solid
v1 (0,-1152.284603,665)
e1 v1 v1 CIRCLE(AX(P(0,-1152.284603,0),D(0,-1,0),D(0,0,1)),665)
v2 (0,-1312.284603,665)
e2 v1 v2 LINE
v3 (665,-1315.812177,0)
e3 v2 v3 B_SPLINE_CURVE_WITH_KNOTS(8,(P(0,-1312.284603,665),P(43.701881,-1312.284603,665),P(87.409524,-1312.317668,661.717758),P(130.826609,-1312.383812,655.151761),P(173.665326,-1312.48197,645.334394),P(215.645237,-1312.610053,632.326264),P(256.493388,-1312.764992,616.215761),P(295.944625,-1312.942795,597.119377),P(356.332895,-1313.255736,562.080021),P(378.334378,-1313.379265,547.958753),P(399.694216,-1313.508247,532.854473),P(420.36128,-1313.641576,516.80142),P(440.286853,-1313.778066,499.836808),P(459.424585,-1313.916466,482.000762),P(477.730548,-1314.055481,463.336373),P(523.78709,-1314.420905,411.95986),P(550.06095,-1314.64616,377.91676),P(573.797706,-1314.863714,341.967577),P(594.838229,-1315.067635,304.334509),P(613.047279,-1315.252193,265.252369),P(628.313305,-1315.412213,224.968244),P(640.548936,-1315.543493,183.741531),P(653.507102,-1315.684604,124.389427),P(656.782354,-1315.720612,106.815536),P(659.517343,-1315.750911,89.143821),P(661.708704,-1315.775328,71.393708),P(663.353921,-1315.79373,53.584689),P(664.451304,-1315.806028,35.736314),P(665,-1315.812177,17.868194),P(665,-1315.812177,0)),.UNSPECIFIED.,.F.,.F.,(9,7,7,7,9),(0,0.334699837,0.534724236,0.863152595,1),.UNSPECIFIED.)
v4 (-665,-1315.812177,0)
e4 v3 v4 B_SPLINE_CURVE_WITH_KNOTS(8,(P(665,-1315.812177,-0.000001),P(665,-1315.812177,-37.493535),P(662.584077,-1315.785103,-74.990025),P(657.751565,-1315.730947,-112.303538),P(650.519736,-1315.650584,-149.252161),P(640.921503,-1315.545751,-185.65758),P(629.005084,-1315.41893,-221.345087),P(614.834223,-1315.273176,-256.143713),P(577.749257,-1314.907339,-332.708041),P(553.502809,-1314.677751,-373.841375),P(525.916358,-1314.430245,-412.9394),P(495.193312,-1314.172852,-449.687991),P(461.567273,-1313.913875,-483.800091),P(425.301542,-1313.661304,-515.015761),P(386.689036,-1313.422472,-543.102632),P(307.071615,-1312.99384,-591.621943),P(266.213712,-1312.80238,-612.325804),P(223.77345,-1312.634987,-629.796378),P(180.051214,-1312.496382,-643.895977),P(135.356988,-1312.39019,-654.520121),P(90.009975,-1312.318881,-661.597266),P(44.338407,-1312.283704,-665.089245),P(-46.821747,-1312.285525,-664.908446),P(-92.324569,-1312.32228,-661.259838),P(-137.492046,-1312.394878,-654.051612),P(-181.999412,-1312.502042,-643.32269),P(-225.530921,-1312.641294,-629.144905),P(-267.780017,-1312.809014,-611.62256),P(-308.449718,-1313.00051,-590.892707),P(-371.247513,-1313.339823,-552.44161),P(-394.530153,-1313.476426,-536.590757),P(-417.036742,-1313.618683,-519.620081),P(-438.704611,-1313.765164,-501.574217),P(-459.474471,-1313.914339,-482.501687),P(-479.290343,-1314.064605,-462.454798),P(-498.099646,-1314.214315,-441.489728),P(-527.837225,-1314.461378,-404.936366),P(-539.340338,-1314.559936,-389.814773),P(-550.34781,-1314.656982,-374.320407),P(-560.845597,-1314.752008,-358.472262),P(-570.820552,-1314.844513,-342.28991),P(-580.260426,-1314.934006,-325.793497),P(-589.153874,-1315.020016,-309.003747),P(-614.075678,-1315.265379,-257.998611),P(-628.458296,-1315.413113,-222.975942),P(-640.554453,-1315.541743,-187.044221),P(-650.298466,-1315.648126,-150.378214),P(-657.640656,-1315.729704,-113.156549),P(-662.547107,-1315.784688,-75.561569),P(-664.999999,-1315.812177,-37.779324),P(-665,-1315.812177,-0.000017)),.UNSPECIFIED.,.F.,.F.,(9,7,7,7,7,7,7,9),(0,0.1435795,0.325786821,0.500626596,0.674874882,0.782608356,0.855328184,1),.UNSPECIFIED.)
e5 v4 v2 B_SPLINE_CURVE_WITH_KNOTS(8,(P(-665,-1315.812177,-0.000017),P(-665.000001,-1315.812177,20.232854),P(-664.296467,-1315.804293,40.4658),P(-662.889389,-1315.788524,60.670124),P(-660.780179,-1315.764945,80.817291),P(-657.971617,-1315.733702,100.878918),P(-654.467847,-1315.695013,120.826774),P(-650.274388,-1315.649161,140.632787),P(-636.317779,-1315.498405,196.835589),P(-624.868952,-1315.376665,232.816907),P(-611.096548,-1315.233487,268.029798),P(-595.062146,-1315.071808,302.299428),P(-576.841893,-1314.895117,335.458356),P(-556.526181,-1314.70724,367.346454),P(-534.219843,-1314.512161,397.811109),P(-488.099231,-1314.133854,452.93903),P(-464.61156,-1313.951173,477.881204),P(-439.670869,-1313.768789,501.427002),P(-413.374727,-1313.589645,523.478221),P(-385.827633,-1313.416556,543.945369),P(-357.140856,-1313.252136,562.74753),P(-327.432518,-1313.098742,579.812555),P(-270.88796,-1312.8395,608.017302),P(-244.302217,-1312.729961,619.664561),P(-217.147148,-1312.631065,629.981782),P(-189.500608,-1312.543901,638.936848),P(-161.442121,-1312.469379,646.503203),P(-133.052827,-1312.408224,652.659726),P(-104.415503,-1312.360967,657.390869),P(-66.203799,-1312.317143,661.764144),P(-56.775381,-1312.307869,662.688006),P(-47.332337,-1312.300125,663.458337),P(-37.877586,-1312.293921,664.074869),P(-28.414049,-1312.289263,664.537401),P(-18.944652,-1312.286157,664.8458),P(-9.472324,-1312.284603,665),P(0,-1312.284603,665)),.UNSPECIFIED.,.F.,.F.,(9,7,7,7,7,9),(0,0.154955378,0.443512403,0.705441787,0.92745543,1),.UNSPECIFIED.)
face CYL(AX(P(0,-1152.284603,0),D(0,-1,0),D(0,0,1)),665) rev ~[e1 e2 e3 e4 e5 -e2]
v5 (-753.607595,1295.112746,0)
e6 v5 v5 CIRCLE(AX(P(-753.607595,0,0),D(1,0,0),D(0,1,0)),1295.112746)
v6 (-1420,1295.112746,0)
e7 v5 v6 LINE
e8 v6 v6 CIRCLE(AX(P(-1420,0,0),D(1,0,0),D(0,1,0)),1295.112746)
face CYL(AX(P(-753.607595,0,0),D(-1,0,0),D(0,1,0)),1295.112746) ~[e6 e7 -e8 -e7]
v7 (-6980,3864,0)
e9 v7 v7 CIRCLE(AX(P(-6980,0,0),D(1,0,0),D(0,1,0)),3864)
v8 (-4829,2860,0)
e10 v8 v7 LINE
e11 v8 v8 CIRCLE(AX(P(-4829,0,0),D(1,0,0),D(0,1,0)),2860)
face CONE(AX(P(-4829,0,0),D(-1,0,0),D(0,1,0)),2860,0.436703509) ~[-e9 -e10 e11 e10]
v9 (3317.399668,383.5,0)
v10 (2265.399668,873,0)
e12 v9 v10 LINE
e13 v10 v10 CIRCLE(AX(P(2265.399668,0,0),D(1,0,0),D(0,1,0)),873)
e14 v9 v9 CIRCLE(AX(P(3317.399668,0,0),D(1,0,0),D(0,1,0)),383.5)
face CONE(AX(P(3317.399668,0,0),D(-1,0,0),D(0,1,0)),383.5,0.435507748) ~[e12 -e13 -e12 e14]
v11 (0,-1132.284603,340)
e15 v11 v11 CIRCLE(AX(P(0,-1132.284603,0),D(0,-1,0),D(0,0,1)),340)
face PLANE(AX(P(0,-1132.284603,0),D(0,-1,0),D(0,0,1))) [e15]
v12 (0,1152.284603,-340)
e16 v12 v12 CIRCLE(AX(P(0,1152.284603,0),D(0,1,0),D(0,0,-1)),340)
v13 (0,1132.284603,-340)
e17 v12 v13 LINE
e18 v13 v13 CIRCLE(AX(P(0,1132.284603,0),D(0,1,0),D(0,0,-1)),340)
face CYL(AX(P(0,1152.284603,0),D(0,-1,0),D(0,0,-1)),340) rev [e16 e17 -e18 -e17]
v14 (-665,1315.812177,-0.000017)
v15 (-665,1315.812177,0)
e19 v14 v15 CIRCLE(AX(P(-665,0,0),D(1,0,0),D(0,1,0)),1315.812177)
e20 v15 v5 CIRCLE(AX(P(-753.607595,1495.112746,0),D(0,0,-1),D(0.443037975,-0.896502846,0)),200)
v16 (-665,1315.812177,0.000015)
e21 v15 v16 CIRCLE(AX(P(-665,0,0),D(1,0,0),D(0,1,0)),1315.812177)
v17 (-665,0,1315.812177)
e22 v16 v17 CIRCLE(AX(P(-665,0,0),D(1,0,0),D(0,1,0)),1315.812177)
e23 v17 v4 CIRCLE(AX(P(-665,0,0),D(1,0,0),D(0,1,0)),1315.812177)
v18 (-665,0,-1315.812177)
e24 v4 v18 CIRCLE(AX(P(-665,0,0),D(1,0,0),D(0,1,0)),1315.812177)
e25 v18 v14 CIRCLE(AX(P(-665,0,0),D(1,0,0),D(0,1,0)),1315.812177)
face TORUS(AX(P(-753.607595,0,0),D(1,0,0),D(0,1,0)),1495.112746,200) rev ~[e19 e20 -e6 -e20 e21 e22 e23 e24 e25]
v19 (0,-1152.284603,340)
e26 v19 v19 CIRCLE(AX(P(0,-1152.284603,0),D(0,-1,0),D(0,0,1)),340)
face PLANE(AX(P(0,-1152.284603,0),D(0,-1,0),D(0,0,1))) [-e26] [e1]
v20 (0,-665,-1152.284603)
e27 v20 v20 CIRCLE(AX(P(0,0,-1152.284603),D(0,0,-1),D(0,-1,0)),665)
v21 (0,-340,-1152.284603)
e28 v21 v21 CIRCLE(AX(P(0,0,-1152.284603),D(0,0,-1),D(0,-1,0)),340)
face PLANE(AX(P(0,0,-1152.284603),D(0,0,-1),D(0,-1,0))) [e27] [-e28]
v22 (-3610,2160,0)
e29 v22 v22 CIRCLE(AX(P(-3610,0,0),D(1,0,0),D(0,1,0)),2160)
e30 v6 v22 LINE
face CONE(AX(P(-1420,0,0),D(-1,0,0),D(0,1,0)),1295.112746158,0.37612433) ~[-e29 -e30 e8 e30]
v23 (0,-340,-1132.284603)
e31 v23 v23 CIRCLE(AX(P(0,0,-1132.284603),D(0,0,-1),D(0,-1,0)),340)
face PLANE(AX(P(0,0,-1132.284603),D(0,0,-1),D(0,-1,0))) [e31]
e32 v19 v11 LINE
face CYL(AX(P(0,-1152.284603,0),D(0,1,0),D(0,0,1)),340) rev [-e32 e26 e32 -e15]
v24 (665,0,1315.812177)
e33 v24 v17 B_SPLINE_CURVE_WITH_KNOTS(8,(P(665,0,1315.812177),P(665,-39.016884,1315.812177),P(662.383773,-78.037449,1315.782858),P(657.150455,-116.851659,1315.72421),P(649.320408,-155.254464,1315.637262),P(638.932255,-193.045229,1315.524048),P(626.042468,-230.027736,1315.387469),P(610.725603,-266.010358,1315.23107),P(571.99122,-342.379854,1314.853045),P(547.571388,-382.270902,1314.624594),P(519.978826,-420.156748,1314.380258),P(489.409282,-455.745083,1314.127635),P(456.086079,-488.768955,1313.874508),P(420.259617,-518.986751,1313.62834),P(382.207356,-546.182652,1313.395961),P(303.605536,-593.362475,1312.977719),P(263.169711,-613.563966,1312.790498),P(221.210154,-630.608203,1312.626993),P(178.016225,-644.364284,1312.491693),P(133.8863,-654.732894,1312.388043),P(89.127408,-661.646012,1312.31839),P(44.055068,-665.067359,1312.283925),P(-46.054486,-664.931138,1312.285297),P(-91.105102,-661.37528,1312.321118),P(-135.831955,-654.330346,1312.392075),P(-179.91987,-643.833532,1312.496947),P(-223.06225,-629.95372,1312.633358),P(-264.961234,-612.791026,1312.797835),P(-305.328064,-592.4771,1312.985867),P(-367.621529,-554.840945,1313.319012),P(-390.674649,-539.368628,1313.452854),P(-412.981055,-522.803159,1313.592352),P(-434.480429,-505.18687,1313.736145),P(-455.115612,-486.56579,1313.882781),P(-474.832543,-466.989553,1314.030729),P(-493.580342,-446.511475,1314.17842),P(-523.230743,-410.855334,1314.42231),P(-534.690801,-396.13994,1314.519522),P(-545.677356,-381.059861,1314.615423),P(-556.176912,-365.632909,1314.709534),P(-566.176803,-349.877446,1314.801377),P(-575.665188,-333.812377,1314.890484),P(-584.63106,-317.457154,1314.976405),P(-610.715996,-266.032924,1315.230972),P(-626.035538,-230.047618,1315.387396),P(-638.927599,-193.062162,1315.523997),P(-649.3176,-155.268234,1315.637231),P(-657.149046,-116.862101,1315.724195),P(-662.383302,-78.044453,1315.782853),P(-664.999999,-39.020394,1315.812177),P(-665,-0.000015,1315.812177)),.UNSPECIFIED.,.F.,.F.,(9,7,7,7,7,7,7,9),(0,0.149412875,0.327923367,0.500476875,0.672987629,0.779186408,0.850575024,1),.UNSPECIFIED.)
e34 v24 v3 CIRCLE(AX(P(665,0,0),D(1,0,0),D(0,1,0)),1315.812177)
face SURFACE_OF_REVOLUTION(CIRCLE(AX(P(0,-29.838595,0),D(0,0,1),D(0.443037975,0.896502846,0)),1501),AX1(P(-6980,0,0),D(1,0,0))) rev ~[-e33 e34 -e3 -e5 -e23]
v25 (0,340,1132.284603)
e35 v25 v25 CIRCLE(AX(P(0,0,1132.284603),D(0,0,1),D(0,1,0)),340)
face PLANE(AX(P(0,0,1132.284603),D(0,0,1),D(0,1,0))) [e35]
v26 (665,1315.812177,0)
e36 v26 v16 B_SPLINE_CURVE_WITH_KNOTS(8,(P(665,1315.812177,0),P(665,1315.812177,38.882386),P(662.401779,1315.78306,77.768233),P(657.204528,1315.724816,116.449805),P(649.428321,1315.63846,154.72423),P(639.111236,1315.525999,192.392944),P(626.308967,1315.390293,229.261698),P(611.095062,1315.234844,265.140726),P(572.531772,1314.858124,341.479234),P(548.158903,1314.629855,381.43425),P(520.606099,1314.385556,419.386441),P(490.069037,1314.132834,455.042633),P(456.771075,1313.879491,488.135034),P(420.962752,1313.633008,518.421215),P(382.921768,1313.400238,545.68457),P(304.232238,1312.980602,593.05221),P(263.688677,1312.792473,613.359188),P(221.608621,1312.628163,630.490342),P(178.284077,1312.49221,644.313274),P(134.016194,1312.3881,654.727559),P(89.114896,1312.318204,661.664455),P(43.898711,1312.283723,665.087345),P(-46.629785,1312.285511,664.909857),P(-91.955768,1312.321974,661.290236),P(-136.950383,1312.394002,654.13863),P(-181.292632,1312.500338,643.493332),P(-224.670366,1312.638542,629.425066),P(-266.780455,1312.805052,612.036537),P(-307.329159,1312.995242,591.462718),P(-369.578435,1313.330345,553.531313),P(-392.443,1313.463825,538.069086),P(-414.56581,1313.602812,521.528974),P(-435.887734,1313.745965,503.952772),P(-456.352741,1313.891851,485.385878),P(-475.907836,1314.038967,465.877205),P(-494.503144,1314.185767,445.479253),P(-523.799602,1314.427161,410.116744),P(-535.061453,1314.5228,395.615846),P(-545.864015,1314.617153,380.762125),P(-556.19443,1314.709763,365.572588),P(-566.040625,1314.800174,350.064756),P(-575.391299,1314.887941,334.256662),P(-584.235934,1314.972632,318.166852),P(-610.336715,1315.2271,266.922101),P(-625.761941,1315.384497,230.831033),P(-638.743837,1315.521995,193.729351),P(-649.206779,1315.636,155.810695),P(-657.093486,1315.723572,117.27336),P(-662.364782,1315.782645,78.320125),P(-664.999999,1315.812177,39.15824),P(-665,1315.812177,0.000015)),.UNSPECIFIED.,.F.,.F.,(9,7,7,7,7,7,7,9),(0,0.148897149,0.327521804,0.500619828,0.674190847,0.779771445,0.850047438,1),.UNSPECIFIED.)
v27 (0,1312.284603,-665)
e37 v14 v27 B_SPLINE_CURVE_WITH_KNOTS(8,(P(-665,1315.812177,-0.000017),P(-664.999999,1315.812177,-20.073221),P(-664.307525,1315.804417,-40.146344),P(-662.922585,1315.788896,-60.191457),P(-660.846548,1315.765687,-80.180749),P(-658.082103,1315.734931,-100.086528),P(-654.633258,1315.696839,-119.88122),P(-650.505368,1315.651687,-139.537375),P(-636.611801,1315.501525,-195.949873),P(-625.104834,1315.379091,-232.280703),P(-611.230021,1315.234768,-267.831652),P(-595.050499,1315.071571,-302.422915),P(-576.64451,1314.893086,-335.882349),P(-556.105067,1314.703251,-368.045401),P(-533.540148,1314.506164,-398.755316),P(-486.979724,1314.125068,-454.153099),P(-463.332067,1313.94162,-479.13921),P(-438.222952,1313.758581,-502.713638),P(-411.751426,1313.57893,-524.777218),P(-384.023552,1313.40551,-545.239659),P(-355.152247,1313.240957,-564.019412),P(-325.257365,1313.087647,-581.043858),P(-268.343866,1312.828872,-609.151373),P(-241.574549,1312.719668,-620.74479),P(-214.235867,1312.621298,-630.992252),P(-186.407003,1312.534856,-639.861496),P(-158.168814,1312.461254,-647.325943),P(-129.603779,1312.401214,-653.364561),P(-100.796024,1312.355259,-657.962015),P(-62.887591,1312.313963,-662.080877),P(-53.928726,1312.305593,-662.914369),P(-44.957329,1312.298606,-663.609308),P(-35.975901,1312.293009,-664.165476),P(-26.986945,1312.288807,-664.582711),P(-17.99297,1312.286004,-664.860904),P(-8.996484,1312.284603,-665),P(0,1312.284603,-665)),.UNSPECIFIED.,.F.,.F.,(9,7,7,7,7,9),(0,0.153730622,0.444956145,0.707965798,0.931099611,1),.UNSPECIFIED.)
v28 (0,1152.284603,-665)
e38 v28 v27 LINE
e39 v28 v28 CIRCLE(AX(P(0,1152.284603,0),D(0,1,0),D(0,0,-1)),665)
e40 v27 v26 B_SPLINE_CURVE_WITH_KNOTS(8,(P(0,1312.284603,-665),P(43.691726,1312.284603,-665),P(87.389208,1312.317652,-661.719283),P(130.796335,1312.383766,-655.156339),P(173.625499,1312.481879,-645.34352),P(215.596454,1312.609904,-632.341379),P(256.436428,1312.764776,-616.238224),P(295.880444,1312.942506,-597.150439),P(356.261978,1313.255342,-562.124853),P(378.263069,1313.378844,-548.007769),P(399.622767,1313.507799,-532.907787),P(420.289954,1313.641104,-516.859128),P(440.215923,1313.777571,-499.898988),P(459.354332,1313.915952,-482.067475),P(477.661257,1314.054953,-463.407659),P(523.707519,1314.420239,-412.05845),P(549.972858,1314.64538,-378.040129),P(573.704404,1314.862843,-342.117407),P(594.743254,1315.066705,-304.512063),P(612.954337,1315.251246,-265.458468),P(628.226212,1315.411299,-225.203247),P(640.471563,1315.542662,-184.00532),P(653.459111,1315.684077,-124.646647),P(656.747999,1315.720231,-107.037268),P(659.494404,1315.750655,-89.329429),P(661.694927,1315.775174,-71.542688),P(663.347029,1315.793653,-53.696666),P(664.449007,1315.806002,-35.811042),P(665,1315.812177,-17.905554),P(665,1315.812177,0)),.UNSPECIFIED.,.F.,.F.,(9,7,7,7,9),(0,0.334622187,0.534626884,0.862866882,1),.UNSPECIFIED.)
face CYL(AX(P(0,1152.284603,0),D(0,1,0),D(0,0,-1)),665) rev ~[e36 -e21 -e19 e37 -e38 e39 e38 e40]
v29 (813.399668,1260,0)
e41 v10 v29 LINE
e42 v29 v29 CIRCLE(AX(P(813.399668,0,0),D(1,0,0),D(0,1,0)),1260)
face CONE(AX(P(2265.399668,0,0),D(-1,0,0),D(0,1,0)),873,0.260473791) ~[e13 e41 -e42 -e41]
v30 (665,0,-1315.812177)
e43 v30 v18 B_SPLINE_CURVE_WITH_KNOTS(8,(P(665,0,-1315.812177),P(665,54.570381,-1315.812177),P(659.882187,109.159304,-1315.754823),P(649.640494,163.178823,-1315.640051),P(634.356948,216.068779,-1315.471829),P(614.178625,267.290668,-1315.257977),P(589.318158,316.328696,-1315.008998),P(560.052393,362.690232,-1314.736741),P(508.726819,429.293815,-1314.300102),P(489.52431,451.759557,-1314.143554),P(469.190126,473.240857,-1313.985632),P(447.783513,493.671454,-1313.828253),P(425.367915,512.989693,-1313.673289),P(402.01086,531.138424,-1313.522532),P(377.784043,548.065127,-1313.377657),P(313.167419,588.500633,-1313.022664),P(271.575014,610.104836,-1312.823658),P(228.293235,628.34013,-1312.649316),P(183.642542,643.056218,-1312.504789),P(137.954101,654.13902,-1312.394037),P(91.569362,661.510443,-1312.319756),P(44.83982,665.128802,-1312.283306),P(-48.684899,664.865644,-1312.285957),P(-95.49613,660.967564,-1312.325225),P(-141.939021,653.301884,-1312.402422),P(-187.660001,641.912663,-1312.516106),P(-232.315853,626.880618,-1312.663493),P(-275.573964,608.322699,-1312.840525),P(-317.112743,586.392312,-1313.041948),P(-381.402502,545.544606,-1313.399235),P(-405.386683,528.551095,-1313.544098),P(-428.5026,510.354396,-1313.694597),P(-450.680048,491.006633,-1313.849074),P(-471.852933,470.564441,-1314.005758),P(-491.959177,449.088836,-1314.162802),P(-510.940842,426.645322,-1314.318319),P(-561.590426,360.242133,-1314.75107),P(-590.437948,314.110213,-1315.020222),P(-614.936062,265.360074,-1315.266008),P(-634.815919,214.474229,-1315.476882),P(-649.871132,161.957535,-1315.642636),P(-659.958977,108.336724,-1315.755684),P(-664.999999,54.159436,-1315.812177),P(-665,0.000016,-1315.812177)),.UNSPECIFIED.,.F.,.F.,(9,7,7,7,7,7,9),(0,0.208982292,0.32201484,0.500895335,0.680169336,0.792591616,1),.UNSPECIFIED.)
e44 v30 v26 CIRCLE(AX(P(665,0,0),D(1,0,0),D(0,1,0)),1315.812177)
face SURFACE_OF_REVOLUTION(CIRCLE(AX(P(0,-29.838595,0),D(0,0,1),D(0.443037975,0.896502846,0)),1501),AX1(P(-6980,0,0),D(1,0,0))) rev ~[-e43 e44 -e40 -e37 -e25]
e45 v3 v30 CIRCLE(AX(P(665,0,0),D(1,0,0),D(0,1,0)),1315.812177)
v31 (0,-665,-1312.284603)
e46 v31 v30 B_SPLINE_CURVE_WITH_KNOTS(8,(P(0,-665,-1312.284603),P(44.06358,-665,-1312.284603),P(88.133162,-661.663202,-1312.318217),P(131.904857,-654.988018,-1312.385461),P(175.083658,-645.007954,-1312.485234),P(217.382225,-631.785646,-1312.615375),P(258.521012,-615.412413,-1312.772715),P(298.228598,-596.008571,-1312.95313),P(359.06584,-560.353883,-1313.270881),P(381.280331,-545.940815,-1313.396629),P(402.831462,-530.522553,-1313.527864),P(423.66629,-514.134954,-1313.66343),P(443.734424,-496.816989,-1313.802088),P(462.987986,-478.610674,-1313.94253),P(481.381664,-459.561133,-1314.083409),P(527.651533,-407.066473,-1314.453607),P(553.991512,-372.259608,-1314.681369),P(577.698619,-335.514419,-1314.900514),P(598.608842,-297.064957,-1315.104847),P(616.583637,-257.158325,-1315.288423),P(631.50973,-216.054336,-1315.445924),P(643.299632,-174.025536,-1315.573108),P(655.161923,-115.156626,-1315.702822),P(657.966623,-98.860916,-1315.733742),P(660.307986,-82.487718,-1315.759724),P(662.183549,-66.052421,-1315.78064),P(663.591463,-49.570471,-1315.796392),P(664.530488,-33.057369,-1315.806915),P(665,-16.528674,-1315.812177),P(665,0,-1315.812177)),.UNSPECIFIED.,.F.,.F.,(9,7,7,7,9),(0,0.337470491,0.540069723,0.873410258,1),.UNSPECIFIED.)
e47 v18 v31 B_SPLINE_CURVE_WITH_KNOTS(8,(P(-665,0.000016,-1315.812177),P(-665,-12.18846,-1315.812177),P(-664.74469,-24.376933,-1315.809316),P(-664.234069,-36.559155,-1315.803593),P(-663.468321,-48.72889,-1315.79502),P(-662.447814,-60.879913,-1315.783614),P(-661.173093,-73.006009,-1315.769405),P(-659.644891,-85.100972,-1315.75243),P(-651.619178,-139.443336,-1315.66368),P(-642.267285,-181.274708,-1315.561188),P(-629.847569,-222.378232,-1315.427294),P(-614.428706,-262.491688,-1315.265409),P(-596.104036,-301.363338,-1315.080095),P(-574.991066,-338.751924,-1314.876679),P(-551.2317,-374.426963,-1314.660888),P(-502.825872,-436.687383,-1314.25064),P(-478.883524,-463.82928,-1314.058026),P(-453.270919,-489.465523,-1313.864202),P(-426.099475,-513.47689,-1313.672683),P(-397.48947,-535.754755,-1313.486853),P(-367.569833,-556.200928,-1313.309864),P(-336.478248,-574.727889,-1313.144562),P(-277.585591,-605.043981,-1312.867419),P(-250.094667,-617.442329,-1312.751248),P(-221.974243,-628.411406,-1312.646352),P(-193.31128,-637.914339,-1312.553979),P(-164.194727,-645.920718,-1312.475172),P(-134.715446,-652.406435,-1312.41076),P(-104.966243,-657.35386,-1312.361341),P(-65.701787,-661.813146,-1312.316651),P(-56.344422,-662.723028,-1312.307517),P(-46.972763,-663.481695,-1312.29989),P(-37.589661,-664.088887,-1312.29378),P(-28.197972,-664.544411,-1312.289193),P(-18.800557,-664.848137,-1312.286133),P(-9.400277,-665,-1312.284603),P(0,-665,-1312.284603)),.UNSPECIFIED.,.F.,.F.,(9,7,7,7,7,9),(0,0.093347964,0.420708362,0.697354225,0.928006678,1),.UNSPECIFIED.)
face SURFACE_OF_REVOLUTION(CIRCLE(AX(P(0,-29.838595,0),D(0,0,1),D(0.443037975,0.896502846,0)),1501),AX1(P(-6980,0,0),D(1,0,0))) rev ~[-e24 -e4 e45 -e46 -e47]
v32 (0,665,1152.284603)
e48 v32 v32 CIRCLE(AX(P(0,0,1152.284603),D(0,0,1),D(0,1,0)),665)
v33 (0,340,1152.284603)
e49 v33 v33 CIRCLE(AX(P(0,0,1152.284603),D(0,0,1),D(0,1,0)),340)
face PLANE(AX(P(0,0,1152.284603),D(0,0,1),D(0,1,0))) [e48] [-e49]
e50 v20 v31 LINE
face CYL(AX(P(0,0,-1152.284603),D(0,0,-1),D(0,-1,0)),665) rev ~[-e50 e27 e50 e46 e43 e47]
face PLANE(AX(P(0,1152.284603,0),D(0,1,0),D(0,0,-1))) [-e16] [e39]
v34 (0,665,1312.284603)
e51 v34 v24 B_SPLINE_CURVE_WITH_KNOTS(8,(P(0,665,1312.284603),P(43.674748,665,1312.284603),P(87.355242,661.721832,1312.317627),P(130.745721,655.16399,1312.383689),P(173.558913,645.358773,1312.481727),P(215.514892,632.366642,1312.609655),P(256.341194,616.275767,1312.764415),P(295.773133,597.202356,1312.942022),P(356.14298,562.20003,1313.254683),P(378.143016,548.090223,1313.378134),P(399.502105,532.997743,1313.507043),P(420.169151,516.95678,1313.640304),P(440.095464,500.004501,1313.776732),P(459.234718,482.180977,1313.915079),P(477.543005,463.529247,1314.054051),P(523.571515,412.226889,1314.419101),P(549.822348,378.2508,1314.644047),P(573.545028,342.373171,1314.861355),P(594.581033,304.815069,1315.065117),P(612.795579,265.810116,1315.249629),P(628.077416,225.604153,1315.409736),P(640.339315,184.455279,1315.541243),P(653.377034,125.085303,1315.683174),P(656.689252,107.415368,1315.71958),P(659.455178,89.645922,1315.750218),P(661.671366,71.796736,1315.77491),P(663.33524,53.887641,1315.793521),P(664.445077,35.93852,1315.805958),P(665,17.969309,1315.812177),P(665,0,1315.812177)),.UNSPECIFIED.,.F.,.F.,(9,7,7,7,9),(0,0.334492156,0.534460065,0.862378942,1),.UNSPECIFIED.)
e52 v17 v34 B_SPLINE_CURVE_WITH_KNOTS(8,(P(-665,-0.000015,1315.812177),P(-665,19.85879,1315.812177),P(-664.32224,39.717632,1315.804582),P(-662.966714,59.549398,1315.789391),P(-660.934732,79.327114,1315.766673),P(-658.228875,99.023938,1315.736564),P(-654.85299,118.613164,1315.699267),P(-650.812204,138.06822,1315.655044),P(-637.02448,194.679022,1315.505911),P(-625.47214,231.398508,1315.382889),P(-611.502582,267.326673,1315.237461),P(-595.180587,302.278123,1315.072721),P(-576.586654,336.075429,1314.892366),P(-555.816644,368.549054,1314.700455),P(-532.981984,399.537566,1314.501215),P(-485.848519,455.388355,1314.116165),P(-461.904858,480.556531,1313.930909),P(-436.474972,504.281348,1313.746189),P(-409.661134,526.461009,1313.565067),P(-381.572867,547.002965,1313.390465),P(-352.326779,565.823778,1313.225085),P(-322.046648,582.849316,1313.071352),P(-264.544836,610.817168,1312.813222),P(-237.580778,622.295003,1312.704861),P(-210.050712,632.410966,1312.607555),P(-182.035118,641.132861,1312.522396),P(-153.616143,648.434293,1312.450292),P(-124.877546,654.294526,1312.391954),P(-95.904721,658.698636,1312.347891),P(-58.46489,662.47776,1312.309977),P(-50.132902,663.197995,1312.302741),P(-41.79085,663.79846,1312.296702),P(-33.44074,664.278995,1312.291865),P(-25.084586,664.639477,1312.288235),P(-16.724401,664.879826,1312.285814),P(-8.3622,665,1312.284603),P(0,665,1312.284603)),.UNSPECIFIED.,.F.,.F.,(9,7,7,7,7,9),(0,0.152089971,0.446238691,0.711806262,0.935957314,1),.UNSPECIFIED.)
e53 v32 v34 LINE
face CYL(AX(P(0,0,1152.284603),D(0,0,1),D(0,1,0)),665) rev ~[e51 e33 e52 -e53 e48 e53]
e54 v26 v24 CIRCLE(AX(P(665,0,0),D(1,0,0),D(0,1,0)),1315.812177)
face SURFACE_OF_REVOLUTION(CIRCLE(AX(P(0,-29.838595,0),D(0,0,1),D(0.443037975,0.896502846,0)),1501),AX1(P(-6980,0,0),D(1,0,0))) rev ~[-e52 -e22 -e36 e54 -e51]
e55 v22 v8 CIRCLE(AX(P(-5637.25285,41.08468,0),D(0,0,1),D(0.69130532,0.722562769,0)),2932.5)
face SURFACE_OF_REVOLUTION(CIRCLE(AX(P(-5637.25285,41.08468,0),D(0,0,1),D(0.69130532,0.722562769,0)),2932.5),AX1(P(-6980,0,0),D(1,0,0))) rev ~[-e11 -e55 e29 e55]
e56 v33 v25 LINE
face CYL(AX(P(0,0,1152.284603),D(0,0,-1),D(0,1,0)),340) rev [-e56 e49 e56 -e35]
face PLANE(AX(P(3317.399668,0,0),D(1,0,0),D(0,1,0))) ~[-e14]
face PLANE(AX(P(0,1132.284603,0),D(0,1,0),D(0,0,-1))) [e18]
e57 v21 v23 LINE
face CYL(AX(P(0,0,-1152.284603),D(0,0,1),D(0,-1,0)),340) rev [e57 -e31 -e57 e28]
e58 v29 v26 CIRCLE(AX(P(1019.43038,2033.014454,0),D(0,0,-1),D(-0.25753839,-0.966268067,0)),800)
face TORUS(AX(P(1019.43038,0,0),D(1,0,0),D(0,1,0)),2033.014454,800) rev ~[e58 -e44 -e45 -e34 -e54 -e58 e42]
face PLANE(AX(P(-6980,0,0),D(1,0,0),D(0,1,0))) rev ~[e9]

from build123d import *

# Parameters (mm, degrees)
PADR_OCIRCULAR1_COUNT = 4


with BuildPart() as part:
    # Esboço1 → Revolução1 (revolve)
    with BuildSketch(Plane.XY):
        with BuildLine():
            Line((3317.399667889, 0), (3317.399667889, 383.5))
            Line((3317.399667889, 383.5), (2265.399667889, 873))
            Line((2265.399667889, 873), (813.399667889, 1260))
            ThreePointArc((813.399667889, 1260), (737.813781205, 1284.220696189), (665, 1315.812176946))
            ThreePointArc((665, 1315.812176946), (0, 1471.161405015), (-665, 1315.812176946))
            ThreePointArc((-665, 1315.812176946), (-708.110967822, 1300.356342101), (-753.607594937, 1295.112746158))
            Line((-753.607594937, 1295.112746158), (-1420, 1295.112746158))
            Line((-1420, 1295.112746158), (-3610, 2160))
            ThreePointArc((-3610, 2160), (-4176.936739119, 2584.120878591), (-4829, 2860))
            Line((-4829, 2860), (-6980, 3864))
            Line((-6980, 3864), (-6980, 0))
            Line((-6980, 0), (3317.399667889, 0))
        make_face()
    revolve(axis=Axis((-6980, 0, 0), (1, 0, 0)))

    # Esboço2 → Corte-Revolução7 (revolve, cut)
    with BuildSketch(Plane(origin=(0, 0, 0), x_dir=(0, 0, -1), z_dir=(1, 0, 0))):
        Polygon((665, 1312.284603127), (665, 1152.284603127), (340, 1152.284603127), (340, 1132.284603127), (0, 1132.284603127), (0, 1471.161405015), (0, 1794.497439154), (665, 1794.497439154), align=None)
    corte_revolu_o7 = revolve(axis=Axis((0, 0, 0), (0, 1, 0)), mode=Mode.SUBTRACT)

    # PadrãoCircular1: Corte-Revolução7 ×4 about axis
    padr_ocircular1_axis = Axis((0, 0, 0), (1, 0, 0))
    for i in range(1, PADR_OCIRCULAR1_COUNT):
        add(corte_revolu_o7.rotate(padr_ocircular1_axis, i * 360 / PADR_OCIRCULAR1_COUNT), mode=Mode.SUBTRACT)


solid = part.part
